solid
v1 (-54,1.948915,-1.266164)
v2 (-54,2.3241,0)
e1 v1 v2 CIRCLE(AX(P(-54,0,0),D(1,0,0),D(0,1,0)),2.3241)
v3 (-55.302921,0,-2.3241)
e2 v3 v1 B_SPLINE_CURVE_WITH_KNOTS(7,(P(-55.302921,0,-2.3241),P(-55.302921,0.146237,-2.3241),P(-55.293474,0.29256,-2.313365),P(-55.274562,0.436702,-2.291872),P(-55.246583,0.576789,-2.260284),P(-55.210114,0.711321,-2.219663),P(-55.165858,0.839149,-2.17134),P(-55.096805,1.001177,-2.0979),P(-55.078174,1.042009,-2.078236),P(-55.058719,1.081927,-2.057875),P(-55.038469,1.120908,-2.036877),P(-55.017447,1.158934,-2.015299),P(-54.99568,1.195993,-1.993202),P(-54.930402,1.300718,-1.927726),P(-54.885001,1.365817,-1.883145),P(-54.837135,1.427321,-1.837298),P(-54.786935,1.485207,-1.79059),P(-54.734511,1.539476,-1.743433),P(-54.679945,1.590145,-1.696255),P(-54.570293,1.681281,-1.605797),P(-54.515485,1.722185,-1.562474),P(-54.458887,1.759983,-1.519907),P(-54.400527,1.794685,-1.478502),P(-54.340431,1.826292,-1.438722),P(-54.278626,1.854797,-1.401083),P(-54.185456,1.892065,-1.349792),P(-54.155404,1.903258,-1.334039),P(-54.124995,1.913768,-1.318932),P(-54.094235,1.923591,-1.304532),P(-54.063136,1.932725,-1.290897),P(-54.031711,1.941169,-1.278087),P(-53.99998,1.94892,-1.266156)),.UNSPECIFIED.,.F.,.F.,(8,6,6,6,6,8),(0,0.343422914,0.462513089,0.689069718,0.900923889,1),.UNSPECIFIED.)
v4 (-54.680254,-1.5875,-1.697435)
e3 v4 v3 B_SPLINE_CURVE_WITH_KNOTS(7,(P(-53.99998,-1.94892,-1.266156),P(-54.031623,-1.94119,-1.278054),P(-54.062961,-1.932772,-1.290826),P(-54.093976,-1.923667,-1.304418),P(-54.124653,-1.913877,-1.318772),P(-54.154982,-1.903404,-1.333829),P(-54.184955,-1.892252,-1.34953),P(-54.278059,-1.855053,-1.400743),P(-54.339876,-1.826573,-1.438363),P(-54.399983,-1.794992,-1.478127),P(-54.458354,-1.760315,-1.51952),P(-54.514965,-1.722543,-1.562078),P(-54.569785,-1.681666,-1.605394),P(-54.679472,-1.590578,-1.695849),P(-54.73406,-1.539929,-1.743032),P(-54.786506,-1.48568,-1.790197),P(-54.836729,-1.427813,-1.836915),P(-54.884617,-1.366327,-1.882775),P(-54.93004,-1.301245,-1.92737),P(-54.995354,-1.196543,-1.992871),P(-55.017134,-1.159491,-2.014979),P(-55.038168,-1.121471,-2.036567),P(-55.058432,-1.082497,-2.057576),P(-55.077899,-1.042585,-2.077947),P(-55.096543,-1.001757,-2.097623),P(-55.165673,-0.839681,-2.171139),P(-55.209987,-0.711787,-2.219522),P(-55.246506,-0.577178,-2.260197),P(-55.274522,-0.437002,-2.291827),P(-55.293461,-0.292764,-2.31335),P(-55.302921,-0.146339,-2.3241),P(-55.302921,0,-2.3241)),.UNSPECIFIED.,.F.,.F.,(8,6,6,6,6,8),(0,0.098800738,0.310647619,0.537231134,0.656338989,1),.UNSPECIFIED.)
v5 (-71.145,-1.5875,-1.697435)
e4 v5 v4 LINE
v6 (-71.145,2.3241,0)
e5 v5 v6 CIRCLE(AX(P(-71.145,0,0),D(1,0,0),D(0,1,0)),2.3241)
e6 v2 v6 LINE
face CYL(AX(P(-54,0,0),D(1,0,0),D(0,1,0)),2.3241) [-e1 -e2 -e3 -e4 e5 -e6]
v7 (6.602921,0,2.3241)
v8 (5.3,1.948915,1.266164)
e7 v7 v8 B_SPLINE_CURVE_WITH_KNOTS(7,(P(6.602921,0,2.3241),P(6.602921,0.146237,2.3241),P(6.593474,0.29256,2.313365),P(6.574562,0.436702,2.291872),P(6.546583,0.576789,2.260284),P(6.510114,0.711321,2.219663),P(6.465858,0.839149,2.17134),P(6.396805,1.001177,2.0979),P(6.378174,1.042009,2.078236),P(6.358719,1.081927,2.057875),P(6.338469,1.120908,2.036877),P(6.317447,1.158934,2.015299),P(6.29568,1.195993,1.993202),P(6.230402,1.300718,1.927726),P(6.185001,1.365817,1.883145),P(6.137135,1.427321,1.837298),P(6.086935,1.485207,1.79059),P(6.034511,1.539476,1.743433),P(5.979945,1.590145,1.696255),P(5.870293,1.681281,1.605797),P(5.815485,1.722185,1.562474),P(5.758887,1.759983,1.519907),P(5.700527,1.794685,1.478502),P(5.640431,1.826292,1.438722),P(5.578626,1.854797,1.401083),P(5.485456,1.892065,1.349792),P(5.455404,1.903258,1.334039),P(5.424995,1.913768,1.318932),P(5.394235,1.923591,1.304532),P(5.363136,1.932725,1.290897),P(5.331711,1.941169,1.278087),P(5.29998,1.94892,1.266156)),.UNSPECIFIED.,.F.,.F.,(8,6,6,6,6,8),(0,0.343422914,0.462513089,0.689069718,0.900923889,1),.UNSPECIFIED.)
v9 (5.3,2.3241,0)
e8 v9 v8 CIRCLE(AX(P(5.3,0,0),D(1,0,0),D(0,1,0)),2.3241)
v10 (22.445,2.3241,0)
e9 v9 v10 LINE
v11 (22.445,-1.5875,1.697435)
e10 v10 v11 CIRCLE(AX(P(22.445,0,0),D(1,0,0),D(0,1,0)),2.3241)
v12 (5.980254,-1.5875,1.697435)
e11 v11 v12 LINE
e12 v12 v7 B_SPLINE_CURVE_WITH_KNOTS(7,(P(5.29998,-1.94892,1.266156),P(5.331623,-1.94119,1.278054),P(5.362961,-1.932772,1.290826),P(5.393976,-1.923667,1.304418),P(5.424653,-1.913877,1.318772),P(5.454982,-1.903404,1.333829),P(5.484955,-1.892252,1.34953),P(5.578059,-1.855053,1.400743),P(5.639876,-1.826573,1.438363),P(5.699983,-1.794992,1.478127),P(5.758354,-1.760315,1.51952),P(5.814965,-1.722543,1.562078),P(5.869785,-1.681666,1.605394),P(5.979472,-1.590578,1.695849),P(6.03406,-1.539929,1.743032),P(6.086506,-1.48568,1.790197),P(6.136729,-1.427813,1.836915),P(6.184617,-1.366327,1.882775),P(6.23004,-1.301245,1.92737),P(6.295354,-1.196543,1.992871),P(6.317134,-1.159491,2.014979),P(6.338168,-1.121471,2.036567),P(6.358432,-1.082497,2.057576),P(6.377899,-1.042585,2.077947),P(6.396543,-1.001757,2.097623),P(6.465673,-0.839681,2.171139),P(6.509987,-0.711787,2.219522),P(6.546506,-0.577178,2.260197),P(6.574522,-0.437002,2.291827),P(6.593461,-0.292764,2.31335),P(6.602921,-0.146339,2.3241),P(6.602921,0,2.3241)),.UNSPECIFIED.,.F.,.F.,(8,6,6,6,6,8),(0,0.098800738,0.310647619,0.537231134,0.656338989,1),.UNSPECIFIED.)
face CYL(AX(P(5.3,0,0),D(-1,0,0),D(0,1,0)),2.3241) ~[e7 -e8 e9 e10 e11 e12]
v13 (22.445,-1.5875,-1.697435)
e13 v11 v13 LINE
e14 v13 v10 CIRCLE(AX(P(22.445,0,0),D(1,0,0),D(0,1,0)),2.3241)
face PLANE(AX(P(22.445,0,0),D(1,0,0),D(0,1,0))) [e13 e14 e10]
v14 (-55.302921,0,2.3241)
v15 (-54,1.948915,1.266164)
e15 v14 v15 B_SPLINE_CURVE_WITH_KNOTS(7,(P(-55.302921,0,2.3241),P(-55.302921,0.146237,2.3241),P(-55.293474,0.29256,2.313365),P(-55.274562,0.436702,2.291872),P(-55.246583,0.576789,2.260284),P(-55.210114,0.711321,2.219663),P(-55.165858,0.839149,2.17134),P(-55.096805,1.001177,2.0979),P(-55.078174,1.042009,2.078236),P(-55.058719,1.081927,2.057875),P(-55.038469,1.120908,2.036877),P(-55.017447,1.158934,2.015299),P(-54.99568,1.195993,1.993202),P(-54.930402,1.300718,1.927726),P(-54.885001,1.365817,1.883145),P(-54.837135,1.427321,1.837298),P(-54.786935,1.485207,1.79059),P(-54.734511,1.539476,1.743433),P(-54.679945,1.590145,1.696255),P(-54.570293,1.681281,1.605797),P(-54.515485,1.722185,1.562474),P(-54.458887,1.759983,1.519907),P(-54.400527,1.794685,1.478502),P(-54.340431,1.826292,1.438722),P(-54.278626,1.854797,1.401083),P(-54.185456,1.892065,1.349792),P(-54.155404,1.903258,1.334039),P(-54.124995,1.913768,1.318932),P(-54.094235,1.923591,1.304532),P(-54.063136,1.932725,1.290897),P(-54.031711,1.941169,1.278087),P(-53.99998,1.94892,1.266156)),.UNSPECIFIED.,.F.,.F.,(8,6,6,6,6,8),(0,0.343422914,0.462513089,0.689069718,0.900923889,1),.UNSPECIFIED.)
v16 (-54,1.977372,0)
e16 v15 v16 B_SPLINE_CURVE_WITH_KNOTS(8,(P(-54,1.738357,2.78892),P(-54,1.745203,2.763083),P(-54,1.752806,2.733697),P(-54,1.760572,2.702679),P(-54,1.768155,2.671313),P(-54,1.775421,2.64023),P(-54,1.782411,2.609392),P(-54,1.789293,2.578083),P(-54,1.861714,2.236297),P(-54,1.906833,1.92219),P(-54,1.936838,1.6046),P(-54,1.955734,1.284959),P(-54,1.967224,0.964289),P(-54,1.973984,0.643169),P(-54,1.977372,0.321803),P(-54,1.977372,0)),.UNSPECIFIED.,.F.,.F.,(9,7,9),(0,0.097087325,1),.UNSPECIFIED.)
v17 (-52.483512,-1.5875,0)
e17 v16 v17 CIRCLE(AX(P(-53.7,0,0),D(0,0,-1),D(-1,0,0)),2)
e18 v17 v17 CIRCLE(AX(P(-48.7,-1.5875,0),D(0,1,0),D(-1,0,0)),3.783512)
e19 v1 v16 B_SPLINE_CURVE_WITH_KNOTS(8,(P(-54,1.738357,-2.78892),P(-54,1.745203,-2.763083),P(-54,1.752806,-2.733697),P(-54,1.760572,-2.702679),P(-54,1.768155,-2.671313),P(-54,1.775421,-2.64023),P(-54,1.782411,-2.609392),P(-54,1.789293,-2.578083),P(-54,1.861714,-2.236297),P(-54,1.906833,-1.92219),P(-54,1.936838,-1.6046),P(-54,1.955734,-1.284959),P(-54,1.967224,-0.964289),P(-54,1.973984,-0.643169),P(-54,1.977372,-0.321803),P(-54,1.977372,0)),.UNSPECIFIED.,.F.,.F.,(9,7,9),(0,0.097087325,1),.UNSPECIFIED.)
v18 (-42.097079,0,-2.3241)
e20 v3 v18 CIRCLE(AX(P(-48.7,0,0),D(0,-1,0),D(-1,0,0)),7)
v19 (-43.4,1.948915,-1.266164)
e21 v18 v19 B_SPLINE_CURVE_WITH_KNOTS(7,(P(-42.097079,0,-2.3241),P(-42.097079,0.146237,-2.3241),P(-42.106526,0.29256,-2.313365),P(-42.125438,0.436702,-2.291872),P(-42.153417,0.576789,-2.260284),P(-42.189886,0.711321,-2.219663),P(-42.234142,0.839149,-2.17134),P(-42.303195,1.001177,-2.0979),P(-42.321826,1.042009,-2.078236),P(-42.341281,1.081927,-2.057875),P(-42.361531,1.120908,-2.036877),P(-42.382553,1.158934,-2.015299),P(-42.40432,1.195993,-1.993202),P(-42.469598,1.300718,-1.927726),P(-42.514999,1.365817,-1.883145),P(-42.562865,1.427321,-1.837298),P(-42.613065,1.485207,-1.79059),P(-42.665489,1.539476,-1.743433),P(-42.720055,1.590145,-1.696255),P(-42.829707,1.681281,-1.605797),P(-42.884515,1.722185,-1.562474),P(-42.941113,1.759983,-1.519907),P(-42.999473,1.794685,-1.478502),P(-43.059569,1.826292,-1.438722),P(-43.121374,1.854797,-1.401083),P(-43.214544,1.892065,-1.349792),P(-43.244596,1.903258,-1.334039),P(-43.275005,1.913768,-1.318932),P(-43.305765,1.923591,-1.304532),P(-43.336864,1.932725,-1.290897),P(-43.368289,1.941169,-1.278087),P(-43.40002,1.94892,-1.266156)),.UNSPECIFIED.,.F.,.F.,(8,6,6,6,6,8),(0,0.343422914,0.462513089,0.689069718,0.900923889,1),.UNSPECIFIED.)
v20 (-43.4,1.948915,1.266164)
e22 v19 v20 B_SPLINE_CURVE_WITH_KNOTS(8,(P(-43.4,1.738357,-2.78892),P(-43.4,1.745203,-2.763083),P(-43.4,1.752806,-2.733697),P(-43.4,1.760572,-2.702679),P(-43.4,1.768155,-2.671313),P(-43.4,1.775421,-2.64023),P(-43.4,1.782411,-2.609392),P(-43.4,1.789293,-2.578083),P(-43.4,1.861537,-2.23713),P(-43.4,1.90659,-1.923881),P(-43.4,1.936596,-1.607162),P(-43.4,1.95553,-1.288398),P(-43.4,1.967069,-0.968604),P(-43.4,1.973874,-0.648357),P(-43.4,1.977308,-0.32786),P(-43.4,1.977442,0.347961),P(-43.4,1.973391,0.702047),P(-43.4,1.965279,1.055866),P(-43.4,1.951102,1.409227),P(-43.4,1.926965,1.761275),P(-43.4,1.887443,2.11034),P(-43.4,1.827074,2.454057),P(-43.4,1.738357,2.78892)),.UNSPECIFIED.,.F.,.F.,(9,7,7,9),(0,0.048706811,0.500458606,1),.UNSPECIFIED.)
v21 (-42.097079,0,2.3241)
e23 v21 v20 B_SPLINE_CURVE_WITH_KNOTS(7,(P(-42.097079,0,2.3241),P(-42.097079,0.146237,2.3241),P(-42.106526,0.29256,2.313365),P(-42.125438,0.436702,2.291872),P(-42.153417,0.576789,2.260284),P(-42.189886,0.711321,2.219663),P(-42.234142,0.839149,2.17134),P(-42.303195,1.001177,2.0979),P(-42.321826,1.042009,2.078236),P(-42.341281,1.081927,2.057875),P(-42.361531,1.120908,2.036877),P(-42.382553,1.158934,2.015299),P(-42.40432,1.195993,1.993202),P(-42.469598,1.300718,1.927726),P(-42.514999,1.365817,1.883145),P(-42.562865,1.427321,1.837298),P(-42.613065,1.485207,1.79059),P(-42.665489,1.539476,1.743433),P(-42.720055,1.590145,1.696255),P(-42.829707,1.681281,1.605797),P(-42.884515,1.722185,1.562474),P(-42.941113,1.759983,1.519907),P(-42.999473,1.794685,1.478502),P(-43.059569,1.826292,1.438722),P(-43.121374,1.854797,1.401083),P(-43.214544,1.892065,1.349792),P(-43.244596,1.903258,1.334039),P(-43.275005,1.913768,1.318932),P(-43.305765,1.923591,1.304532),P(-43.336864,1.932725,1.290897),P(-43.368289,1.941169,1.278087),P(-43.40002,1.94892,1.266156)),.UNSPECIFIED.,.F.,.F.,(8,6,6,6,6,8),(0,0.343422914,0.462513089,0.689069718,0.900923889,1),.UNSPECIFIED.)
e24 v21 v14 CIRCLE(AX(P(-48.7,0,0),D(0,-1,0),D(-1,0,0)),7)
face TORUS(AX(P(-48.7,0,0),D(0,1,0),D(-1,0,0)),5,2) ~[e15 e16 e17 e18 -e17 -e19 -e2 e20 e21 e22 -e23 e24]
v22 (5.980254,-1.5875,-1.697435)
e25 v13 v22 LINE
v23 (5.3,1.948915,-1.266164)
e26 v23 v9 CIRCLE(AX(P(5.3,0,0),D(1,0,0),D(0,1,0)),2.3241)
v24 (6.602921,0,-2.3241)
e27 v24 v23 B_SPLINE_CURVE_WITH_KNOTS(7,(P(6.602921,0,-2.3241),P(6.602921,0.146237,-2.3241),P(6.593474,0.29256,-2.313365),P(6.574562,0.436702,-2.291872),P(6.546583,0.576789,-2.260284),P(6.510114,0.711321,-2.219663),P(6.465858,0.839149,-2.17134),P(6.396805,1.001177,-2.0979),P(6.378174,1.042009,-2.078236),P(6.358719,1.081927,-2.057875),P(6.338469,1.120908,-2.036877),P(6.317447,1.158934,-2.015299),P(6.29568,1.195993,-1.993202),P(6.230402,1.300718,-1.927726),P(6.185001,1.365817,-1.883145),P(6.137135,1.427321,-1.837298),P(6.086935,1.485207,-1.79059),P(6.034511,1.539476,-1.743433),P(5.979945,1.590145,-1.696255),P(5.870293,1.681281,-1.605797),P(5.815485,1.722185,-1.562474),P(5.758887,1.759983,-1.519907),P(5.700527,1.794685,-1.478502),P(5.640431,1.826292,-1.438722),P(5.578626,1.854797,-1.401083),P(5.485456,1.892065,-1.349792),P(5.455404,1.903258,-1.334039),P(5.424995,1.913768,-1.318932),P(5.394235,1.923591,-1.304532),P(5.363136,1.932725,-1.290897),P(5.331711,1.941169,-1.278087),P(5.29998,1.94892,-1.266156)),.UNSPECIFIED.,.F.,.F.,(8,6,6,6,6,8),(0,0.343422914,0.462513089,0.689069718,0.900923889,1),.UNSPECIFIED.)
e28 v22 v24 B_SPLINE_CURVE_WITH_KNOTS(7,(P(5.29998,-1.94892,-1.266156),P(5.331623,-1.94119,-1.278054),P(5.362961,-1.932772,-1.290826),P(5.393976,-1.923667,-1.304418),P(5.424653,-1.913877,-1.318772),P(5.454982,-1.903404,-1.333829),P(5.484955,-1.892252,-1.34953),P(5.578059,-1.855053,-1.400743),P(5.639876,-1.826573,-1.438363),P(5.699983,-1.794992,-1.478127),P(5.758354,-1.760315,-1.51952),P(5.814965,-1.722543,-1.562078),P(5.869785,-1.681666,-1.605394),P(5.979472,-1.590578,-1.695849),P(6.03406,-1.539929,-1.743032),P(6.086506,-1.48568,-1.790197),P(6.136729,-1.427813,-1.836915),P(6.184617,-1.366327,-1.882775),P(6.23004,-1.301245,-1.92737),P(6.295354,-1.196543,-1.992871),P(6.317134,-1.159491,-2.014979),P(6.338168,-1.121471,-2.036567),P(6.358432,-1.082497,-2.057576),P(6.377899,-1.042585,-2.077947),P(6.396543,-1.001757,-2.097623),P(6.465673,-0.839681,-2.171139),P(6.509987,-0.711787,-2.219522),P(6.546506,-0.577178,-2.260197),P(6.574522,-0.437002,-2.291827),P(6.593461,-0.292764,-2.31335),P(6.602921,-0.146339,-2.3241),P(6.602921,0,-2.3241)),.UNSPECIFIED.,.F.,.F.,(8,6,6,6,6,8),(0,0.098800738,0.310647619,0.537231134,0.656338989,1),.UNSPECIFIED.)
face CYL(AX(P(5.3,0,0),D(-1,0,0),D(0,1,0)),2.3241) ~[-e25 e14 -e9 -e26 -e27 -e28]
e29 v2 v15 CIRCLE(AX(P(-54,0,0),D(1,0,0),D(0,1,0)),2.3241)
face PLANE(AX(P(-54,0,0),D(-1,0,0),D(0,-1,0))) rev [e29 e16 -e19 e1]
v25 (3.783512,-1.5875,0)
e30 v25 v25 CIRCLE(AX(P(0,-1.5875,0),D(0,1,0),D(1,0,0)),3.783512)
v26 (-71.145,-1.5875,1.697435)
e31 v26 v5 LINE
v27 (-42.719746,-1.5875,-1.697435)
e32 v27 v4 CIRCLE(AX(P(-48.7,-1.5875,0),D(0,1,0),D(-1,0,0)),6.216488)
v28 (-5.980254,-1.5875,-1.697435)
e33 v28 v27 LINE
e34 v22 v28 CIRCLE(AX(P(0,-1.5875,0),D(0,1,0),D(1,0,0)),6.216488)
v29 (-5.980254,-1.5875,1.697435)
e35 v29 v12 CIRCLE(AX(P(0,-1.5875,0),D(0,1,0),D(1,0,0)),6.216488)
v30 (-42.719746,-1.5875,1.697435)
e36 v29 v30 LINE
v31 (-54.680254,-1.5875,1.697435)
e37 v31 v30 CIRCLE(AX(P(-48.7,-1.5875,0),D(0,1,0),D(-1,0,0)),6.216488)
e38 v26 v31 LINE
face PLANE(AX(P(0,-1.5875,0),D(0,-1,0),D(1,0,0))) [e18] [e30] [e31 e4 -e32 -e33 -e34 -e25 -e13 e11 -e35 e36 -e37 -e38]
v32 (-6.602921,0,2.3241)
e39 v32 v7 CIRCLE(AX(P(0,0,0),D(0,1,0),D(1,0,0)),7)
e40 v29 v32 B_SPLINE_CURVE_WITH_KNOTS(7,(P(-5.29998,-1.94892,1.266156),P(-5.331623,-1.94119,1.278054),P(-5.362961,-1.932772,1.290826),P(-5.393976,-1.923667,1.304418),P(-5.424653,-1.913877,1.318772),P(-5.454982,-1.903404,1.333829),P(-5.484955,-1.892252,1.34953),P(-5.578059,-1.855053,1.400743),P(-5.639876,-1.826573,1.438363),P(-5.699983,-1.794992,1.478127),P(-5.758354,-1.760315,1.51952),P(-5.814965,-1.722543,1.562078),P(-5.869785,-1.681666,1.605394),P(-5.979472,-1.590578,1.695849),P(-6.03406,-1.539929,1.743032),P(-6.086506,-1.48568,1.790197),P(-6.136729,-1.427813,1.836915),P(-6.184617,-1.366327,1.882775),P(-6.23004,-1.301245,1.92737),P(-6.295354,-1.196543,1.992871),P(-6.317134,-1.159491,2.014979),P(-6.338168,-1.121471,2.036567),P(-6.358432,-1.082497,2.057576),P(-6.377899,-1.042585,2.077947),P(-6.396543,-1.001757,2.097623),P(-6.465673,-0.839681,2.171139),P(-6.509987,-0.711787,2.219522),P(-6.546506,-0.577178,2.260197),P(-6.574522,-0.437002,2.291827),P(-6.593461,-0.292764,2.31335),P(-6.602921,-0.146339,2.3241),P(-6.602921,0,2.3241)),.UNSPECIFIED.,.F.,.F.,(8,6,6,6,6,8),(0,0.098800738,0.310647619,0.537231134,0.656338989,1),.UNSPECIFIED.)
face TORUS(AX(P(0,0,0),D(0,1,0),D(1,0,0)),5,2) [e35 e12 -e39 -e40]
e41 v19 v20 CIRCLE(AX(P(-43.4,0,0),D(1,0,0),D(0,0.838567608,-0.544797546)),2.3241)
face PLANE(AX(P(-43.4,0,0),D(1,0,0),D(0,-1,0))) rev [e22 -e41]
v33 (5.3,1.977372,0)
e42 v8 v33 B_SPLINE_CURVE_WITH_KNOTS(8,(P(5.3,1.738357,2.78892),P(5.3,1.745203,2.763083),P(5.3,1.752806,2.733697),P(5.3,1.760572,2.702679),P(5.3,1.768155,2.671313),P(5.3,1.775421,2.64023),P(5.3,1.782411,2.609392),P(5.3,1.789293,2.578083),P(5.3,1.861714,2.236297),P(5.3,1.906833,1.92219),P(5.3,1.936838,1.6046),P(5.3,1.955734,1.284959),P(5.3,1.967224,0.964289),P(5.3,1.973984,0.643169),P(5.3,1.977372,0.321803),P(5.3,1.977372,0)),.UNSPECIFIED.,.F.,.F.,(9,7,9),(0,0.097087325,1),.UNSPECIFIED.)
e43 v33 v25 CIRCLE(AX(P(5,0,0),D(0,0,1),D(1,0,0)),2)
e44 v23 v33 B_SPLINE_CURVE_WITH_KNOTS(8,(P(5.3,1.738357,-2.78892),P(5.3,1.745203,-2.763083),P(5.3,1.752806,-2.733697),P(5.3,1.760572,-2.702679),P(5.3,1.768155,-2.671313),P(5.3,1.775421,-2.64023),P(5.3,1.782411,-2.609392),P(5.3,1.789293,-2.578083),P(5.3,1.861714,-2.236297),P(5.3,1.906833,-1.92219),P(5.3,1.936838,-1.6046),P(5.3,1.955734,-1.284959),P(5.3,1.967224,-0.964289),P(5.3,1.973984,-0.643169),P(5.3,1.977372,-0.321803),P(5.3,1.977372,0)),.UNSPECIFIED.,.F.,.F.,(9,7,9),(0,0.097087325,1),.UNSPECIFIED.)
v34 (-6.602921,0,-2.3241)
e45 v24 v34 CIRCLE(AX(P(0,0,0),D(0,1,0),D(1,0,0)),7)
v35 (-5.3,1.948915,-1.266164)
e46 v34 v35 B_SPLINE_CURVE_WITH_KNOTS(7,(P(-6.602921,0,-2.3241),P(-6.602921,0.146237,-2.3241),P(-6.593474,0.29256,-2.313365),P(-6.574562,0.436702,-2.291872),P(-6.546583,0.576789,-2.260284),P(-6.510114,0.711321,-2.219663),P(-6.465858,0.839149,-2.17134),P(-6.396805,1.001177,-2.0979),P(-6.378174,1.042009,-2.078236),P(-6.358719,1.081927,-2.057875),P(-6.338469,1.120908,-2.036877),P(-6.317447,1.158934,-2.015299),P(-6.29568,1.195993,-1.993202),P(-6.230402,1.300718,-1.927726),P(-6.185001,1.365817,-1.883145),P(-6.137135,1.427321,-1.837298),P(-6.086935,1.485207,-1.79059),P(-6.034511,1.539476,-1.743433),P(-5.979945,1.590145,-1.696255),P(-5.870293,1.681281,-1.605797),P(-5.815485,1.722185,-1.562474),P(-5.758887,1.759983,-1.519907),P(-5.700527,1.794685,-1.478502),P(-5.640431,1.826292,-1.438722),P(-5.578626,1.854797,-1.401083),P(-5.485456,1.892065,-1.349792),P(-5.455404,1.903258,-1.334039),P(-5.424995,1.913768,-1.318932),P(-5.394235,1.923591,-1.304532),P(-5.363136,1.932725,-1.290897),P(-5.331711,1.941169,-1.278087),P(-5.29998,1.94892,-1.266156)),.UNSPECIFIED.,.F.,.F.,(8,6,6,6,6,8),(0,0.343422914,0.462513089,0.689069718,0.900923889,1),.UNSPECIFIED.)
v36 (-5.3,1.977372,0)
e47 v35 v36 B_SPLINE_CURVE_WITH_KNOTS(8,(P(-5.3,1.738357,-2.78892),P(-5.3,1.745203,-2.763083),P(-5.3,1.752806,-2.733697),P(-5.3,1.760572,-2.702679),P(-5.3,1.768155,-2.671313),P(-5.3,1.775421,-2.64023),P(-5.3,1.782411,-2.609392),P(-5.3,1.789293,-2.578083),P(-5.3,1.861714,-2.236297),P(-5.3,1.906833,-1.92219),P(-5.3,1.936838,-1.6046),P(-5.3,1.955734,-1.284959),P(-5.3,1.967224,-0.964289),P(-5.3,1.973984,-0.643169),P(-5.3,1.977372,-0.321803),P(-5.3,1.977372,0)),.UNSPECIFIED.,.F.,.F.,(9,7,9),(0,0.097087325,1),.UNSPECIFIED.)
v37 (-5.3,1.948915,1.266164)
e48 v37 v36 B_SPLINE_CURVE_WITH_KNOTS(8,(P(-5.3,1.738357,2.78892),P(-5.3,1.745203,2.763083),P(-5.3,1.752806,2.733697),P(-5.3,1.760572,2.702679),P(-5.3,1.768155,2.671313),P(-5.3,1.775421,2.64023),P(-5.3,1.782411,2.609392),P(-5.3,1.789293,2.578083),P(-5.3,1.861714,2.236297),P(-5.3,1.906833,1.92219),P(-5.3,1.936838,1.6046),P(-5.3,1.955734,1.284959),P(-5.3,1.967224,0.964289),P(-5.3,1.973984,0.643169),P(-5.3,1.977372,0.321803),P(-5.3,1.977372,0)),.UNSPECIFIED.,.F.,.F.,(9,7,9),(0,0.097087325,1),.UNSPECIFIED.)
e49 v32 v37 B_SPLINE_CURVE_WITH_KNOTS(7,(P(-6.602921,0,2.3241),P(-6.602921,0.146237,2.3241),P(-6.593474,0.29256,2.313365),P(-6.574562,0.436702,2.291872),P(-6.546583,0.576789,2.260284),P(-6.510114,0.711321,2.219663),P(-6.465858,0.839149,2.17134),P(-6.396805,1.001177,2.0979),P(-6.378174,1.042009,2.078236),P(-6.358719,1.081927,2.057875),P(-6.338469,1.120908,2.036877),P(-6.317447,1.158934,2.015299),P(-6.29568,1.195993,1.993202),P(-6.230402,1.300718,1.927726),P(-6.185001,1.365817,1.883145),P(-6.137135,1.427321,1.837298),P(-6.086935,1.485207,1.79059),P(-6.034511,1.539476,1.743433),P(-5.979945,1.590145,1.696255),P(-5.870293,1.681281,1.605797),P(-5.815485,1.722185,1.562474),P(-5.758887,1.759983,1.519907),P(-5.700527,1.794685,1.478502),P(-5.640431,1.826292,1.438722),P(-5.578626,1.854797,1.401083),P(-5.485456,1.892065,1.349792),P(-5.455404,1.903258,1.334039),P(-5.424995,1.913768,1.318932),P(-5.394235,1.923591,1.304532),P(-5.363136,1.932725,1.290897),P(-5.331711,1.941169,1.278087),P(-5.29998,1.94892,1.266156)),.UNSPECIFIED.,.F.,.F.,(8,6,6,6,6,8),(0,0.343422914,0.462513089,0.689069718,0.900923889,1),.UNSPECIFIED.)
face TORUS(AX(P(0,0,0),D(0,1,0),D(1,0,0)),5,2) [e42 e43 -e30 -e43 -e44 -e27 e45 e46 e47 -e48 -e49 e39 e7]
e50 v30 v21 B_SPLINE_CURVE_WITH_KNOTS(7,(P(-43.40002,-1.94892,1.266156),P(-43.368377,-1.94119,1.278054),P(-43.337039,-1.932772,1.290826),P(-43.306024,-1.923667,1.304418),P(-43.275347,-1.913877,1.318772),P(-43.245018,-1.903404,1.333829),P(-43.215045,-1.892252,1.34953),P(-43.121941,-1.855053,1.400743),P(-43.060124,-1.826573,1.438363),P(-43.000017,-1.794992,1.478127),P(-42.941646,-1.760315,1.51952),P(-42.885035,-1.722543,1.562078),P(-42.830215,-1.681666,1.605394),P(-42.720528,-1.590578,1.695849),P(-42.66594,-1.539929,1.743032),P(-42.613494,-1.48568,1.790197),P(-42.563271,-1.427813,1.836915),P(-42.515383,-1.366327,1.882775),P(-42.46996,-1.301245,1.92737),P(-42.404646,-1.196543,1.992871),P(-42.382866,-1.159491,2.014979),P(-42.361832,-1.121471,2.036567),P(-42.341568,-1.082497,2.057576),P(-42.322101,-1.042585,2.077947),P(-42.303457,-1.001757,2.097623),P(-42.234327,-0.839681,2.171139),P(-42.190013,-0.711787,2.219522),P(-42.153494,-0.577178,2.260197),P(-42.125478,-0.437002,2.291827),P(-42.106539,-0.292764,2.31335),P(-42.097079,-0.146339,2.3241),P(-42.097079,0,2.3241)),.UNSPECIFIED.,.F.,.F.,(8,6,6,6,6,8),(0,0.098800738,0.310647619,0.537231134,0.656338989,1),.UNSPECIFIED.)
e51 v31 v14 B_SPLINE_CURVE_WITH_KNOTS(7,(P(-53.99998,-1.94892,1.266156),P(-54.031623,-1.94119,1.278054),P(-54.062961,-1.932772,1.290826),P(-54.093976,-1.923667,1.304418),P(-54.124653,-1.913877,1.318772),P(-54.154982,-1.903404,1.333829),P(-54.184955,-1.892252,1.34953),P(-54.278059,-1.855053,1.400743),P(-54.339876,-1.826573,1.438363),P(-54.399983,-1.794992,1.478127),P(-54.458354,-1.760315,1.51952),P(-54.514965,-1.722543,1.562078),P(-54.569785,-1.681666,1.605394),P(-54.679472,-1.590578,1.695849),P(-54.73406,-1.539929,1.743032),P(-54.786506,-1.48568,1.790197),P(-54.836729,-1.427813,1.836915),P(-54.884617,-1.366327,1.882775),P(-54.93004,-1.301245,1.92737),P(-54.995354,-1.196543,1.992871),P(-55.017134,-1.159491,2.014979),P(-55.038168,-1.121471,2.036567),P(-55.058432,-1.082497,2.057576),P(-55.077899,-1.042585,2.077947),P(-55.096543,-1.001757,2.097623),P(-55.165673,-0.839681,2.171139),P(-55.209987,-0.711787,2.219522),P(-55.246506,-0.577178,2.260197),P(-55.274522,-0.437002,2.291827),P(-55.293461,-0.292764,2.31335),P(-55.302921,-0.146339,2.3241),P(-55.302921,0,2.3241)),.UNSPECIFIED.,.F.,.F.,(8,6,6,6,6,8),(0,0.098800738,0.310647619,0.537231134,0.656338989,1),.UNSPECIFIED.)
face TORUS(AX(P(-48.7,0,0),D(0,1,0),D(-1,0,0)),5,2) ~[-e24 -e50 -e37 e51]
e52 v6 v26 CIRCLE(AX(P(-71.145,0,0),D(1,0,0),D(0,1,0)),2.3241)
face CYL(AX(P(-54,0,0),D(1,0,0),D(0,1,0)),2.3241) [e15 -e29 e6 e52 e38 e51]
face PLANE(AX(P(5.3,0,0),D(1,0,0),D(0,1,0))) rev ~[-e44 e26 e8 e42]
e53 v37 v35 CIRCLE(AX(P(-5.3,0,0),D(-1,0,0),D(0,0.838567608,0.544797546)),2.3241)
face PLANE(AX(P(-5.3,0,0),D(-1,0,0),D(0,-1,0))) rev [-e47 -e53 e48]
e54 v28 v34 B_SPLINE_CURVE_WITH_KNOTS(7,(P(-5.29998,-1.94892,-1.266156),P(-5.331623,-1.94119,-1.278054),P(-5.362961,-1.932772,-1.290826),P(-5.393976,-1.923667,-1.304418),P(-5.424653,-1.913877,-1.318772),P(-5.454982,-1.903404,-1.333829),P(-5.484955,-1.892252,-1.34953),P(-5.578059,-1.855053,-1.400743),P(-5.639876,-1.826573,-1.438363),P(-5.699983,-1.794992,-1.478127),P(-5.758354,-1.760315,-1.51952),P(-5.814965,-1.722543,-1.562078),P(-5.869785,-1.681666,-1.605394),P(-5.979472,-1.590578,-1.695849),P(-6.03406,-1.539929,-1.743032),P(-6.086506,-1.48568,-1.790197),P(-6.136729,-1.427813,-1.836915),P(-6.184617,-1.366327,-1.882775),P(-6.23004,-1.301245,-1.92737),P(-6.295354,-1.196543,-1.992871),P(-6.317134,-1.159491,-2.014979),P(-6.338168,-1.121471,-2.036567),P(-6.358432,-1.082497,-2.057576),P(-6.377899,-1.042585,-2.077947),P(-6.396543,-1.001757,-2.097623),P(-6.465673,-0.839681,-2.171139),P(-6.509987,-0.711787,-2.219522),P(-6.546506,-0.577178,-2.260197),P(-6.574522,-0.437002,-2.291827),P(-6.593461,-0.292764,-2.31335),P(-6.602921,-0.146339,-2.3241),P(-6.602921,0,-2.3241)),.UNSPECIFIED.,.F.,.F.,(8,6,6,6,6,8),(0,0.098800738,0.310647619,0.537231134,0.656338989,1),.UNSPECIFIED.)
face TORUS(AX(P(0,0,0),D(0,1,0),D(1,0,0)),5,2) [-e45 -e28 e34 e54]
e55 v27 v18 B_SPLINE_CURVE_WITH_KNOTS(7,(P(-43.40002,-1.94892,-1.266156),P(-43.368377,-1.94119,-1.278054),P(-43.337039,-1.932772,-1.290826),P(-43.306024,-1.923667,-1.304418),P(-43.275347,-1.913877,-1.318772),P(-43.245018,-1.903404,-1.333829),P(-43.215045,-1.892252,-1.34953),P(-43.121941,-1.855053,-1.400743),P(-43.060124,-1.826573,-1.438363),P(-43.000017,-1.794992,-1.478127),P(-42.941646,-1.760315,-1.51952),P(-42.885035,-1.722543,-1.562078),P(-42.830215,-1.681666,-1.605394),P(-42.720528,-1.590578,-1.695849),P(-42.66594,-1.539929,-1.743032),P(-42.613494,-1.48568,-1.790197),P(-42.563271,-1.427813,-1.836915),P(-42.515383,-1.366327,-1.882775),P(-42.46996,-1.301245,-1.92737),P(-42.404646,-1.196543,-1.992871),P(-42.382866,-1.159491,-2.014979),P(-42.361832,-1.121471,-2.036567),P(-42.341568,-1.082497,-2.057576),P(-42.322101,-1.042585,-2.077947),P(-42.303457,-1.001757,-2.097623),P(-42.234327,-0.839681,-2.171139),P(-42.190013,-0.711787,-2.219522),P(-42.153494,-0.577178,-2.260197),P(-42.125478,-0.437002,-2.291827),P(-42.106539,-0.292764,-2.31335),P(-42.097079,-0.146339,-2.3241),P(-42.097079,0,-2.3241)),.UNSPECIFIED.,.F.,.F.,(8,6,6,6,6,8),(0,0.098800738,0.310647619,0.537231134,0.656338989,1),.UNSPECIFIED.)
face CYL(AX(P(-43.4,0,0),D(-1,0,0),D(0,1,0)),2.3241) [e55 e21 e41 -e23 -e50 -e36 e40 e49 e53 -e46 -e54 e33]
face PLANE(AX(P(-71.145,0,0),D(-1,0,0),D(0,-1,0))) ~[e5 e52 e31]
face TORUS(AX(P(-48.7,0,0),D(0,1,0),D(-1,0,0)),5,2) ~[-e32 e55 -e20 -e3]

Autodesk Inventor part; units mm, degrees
ref_plane "XZ Plane" through (0, 0, 0) normal (0, 1, 0) x (-1, 0, 0)
sketch "Sketch1" plane through (0, 0, 0) normal (0, 0, 1) x (1, 0, 0)
  line L0 (0, 0) -> (0, 6.5228)
  circle A0 centre (5, 0) radius 2
  dimension "d0" = 4
  dimension "d1" = 5
revolve "Revolution1" add sketch "Sketch1" angle 360 about axis through (0, 0, 0) along (0, 1, 0)
ref_plane "Work Plane1" through (5.3, 0, 0) normal (1, 0, 0) x (0, 1, 0)
sketch "Sketch2" plane through (5.3, 0, 0) normal (1, 0, 0) x (0, 1, 0)
  circle A0 centre (0, 0) radius 2.3241
  dimension "d4" = 4.6482
extrude "Extrusion1" add sketch "Sketch2" along normal blind 17.145
mirror "Mirror1" about plane through (0, 0, 0) normal (1, 0, 0)
sketch "Sketch3" plane through (-5.3, 0, 0) normal (-1, 0, 0) x (0, 1, 0)
  circle A0 centre (0, 0) radius 2.3241
  dimension "d7" = 4.6482
extrude "Extrusion2" add sketch "Sketch3" along normal blind 19.05
mirror "Mirror2" about plane through (-24.35, 0, 0) normal (-1, 0, 0) of "Extrusion1", "Revolution1", "Extrusion2"
ref_plane "Work Plane5" through (0, -1.5875, 0) normal (0, -1, 0) x (1, 0, 0)
ref_plane "Work Plane4" through (0, 0, 0) normal (0, -1, 0) x (1, 0, 0)
sketch "Sketch4" plane through (0, -1.5875, 0) normal (0, -1, 0) x (1, 0, 0)
  line L0 (27.3527, -8.2733) -> (-72.0962, -8.2733)
  line L1 (-72.0962, -8.2733) -> (-72.0962, 10.4683)
  line L2 (-72.0962, 10.4683) -> (27.3527, 10.4683)
  line L3 (27.3527, 10.4683) -> (27.3527, -8.2733)
  point P0 (0, 0)
extrude "Extrusion3" cut sketch "Sketch4" along normal blind 11.1125
ref_plane "Work Plane2" through (-5.3, 0, 0) normal (1, 0, 0) x (0, 1, 0)
properties part number "new string management system" material "ABS Plastic"
